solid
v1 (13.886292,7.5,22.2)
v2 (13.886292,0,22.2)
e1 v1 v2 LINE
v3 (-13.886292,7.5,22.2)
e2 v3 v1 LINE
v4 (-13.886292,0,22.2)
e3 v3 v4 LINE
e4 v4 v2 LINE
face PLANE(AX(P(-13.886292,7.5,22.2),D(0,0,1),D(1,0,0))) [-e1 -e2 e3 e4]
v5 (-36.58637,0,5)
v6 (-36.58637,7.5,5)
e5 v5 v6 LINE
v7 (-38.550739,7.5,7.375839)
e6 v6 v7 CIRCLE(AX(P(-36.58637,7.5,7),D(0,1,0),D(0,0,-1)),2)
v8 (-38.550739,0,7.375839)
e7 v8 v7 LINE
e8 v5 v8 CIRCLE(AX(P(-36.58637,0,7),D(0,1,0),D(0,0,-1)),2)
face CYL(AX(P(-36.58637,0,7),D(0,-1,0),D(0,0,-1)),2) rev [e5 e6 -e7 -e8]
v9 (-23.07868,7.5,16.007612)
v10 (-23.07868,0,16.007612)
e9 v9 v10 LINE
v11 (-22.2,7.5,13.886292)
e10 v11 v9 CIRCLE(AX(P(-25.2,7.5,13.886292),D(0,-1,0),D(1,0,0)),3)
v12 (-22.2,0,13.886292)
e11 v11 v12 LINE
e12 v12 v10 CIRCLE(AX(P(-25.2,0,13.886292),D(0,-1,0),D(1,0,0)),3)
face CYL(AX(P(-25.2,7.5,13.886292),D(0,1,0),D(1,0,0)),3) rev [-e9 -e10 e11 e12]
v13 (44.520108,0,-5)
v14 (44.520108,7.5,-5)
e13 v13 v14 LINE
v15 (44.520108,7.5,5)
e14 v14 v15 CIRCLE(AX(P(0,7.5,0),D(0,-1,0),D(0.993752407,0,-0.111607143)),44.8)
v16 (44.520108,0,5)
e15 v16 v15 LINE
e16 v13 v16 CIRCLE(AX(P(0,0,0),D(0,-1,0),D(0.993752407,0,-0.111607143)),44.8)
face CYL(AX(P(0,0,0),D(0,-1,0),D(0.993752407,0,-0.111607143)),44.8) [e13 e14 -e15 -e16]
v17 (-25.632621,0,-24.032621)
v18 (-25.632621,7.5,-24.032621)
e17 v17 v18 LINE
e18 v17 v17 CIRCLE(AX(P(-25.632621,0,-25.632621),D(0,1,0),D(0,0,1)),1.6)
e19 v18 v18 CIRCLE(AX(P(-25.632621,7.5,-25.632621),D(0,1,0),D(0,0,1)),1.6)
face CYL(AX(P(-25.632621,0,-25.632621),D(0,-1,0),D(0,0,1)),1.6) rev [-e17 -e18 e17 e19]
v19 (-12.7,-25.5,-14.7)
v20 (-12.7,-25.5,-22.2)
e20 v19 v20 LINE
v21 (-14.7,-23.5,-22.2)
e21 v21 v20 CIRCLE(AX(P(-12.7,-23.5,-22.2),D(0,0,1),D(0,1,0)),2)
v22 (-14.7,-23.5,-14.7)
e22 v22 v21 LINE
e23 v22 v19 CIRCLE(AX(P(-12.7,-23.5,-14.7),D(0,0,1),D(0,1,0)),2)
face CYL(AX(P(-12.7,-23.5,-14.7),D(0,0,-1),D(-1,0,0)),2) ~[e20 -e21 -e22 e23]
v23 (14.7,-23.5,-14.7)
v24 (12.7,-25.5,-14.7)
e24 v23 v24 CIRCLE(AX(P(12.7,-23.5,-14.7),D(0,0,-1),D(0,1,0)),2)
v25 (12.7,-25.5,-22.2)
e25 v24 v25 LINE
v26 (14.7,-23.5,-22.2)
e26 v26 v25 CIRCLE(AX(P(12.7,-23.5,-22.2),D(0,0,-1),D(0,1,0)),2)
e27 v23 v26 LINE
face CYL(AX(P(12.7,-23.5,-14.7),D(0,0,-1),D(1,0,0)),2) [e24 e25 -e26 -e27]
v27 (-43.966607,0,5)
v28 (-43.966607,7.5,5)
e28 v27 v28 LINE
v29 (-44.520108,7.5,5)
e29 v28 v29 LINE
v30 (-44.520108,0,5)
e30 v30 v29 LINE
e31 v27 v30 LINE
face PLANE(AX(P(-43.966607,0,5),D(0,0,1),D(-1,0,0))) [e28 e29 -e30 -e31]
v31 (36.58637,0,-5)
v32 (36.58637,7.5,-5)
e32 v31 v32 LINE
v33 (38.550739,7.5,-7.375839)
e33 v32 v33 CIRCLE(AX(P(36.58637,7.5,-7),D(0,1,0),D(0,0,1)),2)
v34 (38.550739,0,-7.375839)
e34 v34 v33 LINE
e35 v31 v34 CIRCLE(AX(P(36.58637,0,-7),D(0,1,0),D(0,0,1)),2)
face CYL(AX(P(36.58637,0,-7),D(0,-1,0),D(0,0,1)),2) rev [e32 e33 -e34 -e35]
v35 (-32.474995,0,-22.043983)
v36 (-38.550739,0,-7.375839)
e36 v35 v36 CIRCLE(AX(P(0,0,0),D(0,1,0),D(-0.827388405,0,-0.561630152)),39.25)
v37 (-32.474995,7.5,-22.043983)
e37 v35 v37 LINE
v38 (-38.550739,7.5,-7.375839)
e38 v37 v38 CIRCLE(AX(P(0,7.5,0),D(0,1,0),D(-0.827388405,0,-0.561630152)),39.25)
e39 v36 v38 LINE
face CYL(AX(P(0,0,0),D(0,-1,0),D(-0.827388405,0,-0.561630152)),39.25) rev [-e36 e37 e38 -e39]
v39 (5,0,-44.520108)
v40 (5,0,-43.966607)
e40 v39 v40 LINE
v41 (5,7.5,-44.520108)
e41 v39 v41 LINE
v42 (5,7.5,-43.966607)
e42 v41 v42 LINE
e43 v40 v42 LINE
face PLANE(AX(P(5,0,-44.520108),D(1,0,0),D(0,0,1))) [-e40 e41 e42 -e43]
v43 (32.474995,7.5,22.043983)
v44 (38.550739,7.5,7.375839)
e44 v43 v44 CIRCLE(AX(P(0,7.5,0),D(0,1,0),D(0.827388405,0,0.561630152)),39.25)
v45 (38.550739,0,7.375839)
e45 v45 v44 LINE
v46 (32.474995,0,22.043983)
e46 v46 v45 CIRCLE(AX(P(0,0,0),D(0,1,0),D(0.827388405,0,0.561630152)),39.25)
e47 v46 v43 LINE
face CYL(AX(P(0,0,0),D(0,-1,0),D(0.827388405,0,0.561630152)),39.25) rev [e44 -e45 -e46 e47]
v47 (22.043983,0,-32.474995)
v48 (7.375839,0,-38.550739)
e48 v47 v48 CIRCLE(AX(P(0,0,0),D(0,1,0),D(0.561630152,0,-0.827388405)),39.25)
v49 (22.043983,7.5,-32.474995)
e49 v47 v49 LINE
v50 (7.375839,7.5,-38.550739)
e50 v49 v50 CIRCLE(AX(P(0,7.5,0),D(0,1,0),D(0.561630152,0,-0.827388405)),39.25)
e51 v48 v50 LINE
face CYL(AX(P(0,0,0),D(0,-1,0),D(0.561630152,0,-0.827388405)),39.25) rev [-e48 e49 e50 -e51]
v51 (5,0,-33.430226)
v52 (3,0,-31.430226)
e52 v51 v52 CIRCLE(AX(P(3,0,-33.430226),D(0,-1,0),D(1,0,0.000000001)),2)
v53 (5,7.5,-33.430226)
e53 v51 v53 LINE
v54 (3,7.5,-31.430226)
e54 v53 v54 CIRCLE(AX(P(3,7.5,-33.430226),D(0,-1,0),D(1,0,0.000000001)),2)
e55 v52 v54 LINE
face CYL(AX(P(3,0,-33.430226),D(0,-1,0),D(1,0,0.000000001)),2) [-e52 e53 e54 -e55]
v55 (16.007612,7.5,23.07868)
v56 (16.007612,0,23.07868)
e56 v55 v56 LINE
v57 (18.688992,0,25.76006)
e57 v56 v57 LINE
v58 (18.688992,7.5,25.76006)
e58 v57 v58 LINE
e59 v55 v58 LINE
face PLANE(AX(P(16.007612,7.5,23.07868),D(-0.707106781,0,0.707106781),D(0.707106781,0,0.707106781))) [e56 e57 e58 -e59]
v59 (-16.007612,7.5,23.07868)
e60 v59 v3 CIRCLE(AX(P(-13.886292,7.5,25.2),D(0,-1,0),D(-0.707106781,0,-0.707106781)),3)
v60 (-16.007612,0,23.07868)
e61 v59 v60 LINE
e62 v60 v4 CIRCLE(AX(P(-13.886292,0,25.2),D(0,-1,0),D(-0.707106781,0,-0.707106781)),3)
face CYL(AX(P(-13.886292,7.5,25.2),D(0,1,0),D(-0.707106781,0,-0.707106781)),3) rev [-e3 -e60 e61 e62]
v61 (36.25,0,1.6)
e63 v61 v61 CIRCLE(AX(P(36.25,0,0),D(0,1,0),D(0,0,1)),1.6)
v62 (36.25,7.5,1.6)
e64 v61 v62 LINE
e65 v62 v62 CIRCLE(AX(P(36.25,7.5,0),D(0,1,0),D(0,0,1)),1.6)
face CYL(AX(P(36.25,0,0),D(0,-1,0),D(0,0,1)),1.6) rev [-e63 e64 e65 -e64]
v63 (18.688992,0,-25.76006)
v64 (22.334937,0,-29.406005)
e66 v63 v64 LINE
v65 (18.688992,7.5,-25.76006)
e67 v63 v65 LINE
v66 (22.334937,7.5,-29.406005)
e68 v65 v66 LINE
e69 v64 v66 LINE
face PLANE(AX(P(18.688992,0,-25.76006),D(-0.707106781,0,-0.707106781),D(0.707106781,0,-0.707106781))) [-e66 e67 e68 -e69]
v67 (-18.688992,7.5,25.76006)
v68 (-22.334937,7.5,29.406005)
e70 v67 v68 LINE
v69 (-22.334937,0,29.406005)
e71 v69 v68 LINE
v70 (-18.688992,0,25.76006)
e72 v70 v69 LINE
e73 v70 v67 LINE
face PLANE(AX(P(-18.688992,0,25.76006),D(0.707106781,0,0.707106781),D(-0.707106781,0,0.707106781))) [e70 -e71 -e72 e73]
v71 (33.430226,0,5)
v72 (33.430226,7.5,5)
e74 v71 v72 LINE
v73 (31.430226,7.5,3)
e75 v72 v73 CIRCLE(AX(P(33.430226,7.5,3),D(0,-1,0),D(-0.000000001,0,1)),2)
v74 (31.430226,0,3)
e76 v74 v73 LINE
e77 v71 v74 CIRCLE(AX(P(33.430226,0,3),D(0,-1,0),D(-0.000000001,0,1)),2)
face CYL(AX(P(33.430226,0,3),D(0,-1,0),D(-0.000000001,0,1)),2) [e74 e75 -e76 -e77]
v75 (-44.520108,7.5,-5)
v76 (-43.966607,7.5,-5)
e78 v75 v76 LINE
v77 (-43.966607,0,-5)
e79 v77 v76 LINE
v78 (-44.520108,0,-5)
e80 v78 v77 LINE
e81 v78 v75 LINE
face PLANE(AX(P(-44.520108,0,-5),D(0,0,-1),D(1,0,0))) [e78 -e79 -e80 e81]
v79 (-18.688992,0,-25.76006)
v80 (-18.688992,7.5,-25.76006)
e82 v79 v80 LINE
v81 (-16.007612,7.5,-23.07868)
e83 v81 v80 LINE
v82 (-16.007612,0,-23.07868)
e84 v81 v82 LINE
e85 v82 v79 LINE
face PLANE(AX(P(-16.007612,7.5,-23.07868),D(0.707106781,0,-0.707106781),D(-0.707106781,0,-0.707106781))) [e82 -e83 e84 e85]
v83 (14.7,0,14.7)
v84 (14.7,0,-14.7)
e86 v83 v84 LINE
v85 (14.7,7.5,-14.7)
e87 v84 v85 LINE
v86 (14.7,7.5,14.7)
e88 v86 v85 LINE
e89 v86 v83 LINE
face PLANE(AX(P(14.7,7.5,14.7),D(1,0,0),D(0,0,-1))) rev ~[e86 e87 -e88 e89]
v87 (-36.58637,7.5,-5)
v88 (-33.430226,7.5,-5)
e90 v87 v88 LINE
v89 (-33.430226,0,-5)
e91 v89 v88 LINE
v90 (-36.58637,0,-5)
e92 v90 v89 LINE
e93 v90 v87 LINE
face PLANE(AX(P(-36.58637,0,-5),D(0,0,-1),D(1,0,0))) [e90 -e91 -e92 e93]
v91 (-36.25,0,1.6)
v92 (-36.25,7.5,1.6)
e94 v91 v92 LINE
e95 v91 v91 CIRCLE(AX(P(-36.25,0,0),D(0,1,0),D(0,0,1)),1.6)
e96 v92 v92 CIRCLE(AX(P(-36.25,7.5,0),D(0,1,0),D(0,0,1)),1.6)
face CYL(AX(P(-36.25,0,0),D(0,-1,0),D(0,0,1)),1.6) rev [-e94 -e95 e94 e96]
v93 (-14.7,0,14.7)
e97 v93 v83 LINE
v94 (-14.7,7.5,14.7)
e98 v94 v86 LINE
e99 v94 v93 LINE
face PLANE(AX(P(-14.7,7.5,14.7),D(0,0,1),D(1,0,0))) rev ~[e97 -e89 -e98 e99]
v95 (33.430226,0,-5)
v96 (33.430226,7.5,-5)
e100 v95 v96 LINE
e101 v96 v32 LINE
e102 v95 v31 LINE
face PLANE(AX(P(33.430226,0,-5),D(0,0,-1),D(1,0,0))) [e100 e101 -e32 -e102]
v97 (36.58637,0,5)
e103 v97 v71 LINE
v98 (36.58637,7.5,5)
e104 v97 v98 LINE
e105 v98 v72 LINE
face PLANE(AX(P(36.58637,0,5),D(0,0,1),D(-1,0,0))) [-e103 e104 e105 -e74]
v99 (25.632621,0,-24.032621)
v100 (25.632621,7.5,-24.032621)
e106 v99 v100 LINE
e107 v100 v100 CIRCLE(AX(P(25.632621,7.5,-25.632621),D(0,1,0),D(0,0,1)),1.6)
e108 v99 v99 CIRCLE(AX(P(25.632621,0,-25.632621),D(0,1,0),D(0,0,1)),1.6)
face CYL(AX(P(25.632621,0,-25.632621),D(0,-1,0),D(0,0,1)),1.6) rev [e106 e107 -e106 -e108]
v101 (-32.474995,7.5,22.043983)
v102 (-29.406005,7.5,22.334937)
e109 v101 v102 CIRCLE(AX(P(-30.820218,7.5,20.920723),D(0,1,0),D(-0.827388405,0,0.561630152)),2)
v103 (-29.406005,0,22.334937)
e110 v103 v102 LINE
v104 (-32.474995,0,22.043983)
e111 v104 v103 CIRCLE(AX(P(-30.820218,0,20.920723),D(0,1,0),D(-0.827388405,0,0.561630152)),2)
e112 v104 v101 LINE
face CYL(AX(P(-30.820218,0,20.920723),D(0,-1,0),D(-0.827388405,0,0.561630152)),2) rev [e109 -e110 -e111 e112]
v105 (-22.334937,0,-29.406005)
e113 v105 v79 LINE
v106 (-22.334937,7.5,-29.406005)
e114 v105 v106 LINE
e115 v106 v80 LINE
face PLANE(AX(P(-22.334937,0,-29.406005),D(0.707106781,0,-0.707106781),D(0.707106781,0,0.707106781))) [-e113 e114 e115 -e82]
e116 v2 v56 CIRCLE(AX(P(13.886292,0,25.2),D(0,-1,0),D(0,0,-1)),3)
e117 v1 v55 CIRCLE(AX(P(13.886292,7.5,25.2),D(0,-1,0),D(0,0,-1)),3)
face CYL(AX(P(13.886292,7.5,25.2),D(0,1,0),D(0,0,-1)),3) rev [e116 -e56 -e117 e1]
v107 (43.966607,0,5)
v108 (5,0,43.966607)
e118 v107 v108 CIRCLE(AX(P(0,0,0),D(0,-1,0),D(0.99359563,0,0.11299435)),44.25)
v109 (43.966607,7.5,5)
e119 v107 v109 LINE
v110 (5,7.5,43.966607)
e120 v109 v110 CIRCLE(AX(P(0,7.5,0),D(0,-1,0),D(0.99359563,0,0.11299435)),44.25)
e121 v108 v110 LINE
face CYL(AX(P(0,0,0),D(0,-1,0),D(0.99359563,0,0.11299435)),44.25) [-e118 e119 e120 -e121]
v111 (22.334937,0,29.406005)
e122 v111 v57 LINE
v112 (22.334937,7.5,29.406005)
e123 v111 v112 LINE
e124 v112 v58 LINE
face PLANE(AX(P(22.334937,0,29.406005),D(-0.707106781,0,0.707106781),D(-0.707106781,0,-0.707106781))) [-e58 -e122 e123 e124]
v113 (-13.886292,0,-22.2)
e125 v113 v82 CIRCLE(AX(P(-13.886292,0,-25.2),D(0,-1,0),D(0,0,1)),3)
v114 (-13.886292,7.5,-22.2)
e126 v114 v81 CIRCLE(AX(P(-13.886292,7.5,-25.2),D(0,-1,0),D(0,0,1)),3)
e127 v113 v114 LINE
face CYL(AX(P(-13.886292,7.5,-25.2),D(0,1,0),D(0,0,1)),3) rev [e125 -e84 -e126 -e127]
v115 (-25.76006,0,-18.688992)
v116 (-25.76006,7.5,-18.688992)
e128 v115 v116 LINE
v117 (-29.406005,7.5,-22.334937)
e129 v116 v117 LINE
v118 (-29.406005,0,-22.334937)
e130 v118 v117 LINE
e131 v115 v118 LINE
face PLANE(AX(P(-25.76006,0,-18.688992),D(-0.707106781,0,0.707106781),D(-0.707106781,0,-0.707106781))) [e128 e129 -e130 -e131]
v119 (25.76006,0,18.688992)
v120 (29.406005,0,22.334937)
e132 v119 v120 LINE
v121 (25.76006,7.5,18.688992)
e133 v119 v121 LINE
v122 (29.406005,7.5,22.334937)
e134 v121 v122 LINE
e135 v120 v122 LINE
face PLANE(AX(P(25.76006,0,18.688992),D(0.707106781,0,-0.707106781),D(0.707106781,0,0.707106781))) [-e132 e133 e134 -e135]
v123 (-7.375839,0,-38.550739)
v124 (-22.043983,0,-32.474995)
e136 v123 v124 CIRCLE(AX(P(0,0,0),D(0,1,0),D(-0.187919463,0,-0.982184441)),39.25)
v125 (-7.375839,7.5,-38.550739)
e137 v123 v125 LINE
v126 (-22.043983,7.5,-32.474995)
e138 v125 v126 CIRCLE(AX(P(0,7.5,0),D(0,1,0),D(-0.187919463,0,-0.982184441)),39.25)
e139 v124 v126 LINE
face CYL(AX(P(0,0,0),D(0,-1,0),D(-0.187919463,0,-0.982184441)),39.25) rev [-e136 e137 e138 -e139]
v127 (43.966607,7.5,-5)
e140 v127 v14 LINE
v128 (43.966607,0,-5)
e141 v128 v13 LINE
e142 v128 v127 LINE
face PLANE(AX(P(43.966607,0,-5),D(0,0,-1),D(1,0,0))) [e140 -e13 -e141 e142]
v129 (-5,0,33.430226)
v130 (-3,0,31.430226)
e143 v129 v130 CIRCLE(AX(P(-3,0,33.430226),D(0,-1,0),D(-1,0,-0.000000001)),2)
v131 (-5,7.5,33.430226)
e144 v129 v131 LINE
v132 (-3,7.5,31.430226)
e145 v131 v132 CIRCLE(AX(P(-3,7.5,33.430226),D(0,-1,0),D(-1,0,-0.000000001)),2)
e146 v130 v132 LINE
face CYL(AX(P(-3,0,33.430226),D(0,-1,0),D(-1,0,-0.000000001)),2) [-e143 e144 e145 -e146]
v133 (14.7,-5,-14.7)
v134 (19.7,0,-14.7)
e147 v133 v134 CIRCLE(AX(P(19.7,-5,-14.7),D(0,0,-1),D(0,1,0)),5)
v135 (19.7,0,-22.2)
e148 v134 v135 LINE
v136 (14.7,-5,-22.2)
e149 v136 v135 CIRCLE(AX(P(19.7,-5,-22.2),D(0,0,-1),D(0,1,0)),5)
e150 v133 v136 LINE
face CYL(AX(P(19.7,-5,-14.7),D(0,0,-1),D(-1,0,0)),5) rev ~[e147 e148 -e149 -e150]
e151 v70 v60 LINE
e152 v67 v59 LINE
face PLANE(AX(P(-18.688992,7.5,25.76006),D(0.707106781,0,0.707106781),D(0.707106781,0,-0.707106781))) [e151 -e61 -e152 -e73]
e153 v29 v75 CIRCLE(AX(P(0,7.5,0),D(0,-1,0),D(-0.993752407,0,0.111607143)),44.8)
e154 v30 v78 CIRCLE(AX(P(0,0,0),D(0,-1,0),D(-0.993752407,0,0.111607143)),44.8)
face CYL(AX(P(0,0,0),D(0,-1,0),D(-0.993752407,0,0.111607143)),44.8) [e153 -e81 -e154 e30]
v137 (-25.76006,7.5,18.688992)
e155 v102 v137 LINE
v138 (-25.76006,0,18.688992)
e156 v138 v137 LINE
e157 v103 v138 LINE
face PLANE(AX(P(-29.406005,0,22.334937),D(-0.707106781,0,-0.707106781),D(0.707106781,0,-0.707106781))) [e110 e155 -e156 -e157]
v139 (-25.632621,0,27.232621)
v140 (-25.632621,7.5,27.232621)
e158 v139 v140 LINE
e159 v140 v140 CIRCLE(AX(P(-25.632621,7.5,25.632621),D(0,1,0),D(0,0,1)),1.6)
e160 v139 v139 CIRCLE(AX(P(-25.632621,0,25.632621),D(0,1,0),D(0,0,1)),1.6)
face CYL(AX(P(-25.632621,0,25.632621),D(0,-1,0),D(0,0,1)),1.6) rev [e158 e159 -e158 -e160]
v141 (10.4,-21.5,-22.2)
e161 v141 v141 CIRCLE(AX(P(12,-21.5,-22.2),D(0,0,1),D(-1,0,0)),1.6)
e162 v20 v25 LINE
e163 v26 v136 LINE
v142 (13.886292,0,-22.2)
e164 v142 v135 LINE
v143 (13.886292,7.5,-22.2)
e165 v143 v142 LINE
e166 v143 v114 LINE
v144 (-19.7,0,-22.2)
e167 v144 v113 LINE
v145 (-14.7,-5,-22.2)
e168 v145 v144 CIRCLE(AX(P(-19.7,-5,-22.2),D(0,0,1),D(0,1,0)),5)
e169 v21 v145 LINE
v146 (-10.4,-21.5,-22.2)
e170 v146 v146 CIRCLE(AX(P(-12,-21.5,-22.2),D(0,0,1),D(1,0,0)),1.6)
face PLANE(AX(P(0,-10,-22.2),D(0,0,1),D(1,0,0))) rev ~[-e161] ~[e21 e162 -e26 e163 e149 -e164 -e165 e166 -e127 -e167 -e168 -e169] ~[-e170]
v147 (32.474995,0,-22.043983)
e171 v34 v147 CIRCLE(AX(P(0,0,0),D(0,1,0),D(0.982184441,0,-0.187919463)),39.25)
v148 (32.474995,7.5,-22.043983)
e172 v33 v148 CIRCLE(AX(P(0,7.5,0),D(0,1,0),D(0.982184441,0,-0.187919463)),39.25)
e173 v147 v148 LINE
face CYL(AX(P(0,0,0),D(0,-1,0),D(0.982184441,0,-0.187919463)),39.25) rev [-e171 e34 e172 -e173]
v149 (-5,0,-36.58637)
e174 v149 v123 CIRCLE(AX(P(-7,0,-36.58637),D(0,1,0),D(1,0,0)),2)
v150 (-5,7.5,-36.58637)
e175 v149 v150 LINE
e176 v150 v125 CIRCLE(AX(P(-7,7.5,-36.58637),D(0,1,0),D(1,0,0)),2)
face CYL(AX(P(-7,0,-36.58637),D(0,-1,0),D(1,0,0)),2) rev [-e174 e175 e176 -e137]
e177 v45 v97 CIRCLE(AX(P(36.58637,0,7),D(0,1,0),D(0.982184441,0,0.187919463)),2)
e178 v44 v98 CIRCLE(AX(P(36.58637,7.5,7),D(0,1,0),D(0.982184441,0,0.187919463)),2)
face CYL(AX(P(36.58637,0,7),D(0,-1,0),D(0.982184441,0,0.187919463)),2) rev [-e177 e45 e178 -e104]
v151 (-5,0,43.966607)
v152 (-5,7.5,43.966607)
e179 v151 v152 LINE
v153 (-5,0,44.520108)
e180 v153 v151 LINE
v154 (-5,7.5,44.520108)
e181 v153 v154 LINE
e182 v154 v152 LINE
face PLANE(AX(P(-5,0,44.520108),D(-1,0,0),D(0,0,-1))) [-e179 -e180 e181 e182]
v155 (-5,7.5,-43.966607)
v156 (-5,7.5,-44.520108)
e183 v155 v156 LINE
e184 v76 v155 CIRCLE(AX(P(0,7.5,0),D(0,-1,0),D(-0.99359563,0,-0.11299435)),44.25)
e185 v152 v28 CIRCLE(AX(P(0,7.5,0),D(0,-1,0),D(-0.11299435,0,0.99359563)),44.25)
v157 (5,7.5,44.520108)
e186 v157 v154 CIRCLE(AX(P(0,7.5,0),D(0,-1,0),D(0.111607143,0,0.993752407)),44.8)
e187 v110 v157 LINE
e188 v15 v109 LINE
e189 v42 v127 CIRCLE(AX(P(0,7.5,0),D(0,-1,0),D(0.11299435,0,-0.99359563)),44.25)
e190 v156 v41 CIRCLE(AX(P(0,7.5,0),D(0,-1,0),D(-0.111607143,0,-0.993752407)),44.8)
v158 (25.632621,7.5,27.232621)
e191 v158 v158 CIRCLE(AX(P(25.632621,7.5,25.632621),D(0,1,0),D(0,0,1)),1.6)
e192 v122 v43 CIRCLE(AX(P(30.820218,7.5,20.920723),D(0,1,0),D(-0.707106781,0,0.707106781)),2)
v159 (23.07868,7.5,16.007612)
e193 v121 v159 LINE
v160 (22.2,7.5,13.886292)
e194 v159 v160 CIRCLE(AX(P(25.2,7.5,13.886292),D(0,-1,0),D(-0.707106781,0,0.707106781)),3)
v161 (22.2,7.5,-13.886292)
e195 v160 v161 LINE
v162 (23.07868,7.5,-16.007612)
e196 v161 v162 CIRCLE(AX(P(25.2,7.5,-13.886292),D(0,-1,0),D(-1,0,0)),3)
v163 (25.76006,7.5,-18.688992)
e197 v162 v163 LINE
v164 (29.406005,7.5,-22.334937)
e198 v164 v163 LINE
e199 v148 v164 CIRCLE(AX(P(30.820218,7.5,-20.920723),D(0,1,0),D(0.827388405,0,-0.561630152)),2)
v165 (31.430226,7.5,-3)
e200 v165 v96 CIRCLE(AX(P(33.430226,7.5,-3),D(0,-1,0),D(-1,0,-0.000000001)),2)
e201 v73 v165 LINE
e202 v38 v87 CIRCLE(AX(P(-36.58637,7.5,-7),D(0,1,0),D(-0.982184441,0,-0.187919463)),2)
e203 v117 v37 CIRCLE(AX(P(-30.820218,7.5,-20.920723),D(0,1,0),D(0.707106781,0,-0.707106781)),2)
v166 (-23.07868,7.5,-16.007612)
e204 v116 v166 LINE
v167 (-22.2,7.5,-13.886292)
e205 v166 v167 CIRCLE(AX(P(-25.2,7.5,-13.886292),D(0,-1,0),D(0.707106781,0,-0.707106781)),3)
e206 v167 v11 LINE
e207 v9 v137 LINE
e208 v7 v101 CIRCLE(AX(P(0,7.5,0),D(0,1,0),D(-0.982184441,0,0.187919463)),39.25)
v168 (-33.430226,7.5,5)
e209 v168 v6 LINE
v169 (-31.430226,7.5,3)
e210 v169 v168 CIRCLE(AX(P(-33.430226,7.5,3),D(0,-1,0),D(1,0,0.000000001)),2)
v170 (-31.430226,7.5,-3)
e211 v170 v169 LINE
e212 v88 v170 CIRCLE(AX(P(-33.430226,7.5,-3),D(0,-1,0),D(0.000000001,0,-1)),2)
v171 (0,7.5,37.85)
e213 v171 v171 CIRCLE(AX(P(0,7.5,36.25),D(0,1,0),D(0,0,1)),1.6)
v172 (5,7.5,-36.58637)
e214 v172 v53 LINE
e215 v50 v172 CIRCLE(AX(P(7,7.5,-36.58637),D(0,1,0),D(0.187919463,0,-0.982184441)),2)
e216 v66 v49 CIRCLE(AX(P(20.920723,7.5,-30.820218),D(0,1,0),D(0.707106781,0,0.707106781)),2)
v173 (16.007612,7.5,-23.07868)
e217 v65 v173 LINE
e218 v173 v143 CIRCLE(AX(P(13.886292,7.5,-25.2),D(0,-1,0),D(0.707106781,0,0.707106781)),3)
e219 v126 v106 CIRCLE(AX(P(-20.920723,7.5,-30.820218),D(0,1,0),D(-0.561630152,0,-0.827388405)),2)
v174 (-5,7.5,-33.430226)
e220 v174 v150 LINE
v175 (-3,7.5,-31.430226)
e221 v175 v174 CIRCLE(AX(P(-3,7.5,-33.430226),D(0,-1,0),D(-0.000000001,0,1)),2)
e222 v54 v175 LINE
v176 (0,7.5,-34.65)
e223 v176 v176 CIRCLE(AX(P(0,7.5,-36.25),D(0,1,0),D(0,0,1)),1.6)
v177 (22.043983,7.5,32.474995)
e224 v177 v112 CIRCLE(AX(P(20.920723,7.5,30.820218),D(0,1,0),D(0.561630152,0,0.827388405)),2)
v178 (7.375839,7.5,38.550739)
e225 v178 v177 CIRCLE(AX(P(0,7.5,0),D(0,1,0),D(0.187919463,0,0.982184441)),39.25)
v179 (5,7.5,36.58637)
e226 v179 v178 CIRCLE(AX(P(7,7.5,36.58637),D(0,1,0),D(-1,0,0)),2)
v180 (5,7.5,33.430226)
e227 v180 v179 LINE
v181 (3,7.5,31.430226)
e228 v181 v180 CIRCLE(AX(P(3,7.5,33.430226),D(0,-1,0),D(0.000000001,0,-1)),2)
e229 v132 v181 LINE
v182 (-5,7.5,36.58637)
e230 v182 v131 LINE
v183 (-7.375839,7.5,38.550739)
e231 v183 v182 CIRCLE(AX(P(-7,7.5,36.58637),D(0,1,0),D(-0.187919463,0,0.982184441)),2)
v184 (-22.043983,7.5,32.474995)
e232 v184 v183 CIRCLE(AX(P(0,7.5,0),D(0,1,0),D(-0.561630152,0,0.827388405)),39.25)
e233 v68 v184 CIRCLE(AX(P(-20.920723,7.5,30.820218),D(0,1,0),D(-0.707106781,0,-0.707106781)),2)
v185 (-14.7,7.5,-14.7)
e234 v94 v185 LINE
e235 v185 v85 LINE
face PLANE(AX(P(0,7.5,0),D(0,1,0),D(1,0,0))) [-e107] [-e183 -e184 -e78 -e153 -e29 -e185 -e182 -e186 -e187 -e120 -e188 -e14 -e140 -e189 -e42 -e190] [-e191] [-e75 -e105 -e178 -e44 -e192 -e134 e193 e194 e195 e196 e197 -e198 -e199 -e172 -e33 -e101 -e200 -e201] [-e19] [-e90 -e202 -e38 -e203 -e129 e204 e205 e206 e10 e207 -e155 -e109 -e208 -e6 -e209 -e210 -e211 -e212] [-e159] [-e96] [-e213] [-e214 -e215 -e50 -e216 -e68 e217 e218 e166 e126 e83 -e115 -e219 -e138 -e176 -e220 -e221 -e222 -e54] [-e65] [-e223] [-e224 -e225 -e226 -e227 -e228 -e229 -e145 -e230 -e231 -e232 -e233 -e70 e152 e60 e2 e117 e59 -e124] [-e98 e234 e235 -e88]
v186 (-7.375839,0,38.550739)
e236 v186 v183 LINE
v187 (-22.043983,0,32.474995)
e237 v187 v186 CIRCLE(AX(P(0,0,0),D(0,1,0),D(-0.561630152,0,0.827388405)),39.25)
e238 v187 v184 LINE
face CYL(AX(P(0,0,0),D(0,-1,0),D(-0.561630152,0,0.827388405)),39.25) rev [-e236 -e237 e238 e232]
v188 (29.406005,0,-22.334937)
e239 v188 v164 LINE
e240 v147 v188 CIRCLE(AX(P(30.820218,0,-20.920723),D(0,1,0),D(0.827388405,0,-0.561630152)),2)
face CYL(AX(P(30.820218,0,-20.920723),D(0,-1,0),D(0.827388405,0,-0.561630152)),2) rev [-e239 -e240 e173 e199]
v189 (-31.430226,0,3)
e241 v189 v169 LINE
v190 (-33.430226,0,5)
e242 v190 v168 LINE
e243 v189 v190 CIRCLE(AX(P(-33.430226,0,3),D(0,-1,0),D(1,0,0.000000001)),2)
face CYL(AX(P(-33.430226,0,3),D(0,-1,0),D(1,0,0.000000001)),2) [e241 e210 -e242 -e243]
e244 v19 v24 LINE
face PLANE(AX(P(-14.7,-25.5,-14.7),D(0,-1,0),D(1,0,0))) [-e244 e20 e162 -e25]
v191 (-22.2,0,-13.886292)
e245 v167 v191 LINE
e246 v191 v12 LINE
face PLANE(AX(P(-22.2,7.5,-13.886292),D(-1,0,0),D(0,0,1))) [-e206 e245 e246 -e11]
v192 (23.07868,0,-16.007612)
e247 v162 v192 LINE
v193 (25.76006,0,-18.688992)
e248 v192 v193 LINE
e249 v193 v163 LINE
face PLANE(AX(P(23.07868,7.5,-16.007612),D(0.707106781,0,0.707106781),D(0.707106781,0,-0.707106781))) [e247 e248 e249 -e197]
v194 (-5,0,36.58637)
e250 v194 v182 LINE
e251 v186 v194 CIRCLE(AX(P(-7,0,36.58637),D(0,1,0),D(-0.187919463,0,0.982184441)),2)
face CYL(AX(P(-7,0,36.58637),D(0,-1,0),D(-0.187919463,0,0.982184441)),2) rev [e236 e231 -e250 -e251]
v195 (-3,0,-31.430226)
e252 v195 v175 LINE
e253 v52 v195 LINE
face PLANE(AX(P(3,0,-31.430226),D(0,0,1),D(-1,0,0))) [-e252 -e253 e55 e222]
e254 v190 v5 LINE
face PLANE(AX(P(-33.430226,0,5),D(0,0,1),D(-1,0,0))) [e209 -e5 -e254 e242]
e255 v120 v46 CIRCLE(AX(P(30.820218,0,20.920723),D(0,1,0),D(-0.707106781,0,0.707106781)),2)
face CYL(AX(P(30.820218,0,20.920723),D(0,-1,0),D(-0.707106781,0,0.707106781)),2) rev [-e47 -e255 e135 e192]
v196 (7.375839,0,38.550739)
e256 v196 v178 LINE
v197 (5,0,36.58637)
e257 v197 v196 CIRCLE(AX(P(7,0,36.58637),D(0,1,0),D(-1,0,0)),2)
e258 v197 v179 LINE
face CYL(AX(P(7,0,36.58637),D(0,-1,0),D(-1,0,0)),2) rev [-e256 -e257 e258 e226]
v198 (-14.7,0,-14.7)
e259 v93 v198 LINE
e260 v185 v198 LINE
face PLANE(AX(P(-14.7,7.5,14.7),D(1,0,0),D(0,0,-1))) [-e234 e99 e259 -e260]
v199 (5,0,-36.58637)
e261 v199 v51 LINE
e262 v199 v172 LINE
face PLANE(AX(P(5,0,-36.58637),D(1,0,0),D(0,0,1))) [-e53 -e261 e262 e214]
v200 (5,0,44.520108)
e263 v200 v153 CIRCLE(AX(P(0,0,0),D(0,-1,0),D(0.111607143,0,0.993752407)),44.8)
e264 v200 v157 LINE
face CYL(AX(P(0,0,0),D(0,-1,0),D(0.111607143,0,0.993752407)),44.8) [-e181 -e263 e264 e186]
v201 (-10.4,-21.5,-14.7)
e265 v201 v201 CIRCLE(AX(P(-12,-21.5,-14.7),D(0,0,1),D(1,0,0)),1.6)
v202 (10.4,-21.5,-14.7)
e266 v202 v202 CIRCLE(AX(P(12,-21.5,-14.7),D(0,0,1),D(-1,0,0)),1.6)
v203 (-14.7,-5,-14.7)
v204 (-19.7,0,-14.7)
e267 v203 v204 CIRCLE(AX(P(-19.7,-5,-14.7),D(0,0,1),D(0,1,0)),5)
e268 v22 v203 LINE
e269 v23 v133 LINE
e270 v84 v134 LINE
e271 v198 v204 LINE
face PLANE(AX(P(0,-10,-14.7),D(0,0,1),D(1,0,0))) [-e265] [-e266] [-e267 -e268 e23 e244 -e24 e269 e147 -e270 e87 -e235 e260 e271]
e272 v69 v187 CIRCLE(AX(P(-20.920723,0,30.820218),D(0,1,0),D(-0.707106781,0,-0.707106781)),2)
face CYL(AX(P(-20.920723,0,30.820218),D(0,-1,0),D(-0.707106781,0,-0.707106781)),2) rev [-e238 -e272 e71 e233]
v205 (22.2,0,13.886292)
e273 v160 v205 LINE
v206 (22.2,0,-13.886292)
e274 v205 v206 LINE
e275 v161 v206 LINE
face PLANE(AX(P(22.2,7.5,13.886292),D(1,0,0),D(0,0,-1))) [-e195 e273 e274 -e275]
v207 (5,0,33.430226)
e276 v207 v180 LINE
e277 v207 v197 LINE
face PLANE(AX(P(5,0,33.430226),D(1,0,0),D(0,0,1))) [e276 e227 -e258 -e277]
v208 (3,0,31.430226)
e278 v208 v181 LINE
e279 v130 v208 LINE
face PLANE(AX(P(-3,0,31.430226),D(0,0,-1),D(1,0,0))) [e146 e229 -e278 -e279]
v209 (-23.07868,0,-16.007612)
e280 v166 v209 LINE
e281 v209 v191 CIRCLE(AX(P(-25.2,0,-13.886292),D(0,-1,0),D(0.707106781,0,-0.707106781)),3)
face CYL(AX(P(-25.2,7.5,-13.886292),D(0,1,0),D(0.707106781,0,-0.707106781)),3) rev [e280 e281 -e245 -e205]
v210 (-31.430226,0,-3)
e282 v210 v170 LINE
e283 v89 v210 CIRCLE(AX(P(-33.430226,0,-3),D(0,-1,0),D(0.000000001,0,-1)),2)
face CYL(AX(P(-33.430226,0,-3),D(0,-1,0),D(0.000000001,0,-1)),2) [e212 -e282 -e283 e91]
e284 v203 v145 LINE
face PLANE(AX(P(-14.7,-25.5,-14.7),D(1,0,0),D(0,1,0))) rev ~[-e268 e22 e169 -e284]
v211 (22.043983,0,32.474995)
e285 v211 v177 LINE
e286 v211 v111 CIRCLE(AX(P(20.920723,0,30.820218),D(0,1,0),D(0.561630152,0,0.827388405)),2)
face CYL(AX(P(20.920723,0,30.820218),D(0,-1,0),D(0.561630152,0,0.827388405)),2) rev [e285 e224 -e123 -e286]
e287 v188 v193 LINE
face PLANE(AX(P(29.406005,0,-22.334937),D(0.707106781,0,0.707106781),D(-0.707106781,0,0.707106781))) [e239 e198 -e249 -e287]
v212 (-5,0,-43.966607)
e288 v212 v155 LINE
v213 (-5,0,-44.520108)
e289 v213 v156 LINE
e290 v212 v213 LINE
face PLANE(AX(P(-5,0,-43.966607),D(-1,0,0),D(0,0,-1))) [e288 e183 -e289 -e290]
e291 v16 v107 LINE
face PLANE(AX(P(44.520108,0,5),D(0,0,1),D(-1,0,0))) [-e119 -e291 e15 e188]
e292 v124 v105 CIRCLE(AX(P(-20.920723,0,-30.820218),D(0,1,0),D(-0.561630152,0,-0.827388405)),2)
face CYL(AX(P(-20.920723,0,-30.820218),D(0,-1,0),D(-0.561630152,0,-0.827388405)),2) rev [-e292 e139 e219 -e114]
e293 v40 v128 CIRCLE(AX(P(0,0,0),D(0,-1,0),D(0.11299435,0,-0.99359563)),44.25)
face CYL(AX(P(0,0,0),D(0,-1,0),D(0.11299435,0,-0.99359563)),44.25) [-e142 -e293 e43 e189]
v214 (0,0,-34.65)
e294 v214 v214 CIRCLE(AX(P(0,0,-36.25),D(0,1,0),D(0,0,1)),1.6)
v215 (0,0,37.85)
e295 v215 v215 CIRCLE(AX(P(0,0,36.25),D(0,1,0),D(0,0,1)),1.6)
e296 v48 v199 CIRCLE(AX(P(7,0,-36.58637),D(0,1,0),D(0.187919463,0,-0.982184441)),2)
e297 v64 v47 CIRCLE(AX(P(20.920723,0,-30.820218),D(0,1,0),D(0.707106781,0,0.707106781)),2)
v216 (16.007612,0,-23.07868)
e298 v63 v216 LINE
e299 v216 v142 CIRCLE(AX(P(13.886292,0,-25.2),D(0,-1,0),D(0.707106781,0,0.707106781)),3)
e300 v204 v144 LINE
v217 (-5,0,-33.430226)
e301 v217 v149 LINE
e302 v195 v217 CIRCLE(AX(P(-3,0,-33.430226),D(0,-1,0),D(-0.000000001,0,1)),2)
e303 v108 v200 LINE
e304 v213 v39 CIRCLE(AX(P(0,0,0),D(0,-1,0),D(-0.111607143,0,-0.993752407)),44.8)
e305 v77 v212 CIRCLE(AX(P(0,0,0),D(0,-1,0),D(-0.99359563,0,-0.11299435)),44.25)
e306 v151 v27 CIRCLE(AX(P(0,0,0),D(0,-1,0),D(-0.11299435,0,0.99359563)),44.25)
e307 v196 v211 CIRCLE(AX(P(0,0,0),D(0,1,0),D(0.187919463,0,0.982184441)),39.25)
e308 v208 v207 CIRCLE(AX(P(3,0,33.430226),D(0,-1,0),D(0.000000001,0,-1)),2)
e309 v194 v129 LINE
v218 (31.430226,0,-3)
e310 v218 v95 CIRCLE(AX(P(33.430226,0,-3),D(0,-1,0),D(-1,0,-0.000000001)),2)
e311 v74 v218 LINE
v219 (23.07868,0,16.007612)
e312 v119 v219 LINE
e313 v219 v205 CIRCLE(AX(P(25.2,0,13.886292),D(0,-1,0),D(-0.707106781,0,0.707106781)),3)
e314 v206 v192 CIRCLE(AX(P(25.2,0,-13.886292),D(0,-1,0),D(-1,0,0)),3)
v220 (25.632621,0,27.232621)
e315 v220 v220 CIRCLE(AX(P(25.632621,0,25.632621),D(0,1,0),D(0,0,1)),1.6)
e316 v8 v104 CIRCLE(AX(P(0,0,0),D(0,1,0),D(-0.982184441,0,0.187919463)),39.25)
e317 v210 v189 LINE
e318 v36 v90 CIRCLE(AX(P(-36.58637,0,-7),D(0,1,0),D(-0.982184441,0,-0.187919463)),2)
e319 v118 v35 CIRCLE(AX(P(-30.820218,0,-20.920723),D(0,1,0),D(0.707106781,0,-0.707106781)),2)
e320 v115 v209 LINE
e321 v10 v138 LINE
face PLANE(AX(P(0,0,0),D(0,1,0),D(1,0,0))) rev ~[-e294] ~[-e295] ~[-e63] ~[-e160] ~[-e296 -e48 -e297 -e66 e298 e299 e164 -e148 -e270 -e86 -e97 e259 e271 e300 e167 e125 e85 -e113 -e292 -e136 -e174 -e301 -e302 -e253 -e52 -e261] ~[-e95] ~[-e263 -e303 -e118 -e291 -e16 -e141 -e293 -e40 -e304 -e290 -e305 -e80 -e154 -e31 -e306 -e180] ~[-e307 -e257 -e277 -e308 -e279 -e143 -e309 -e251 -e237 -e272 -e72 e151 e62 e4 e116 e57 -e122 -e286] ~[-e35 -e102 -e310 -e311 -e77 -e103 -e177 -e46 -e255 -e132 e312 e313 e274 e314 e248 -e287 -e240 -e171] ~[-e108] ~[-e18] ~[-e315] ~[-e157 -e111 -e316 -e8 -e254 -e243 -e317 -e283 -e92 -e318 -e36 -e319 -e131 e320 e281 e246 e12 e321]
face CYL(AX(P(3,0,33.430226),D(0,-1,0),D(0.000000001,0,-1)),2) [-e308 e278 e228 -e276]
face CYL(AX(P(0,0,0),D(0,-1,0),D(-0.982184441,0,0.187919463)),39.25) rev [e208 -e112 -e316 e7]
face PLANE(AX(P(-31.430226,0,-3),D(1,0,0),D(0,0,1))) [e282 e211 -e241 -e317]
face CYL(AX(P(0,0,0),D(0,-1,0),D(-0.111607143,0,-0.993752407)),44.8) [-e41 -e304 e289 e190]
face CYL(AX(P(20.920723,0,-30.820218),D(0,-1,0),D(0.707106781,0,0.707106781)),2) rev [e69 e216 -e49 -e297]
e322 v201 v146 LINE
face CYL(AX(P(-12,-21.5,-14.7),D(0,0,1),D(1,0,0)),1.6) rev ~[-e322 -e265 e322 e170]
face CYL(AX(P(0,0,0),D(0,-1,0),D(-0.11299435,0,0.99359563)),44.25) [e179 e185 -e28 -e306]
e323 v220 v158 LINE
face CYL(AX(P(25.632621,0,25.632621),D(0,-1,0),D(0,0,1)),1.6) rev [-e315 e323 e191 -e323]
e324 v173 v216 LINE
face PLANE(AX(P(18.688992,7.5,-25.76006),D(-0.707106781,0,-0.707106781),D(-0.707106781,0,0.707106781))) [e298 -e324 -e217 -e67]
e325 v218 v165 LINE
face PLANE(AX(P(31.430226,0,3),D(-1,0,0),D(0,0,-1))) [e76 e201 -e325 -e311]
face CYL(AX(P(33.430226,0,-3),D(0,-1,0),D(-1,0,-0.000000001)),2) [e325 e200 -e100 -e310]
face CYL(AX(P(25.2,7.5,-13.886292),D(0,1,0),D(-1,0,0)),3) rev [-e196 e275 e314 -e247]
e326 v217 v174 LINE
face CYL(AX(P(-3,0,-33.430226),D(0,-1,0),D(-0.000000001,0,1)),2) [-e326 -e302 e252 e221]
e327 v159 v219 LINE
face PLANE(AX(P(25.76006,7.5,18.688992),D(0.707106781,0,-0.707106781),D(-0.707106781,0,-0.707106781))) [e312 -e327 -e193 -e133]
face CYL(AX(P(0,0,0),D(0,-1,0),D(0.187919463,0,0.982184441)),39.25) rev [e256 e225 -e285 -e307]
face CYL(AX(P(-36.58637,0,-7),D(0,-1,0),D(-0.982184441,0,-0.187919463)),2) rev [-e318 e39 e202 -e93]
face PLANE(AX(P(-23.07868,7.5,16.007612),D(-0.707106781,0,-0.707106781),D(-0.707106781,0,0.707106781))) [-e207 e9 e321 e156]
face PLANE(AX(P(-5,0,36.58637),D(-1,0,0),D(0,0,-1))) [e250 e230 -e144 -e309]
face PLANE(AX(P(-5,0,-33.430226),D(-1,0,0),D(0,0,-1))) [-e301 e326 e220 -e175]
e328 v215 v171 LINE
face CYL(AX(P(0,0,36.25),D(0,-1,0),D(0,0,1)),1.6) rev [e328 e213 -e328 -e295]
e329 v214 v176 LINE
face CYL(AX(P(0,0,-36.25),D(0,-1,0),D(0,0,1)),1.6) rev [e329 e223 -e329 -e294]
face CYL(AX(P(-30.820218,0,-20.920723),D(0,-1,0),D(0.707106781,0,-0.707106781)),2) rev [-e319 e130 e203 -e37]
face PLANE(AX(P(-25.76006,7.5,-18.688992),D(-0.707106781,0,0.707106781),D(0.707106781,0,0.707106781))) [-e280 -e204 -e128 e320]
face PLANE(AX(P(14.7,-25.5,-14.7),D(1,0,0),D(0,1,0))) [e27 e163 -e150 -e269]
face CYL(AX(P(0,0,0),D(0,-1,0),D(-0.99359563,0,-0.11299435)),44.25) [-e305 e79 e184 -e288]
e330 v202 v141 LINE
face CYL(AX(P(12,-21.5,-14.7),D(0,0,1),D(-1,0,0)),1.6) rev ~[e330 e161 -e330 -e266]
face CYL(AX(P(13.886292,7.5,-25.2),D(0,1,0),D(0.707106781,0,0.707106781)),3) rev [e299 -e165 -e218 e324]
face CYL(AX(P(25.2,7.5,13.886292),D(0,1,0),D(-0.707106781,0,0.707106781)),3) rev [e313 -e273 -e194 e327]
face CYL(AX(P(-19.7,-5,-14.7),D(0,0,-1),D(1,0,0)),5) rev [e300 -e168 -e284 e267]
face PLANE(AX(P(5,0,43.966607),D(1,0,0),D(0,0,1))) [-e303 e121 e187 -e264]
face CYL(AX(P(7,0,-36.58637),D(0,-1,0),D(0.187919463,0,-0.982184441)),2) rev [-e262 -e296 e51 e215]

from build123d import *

# Parameters (mm, degrees)
SKETCH1_R           = 1.6
BOSS_EXTRUDE1_DEPTH = 7.5
SKETCH2_W           = 29.4
SKETCH2_H           = 29.4
BOSS_EXTRUDE2_DEPTH = 7.5
SKETCH3_W           = 29.4
SKETCH3_H           = 31
SKETCH3_R           = 1.6
BOSS_EXTRUDE3_DEPTH = 7.5
FILLET1_R           = 5
FILLET2_R           = 2


with BuildPart() as part:
    # Sketch1 → Boss-Extrude1 (new body)
    with BuildSketch(Plane(origin=(0, 0, 0), x_dir=(1, 0, 0), z_dir=(0, 1, 0))):
        with BuildLine():
            Line((-5, 43.966606646), (-5, 44.520107817))
            ThreePointArc((-5, 44.520107817), (0, 44.8), (5, 44.520107817))
            Line((5, 44.520107817), (5, 43.966606646))
            ThreePointArc((5, 43.966606646), (31.289475068, 31.289475068), (43.966606646, 5))
            Line((43.966606646, 5), (44.520107817, 5))
            ThreePointArc((44.520107817, 5), (44.8, 0), (44.520107817, -5))
            Line((44.520107817, -5), (43.966606646, -5))
            ThreePointArc((43.966606646, -5), (31.289475068, -31.289475068), (5, -43.966606646))
            Line((5, -43.966606646), (5, -44.520107817))
            ThreePointArc((5, -44.520107817), (0, -44.8), (-5, -44.520107817))
            Line((-5, -44.520107817), (-5, -43.966606646))
            ThreePointArc((-5, -43.966606646), (-31.289475068, -31.289475068), (-43.966606646, -5))
            Line((-43.966606646, -5), (-44.520107817, -5))
            ThreePointArc((-44.520107817, -5), (-44.8, 0), (-44.520107817, 5))
            Line((-44.520107817, 5), (-43.966606646, 5))
            ThreePointArc((-43.966606646, 5), (-31.289475068, 31.289475068), (-5, 43.966606646))
        make_face()
        with Locations(Location((36.25, 0, 0), (0, 0, 270))):
            Circle(SKETCH1_R, mode=Mode.SUBTRACT)
        with Locations(Location((25.632620818, -25.632620818, 0), (0, 0, 270))):
            Circle(SKETCH1_R, mode=Mode.SUBTRACT)
        with Locations(Location((0, -36.25, 0), (0, 0, 270))):
            Circle(SKETCH1_R, mode=Mode.SUBTRACT)
        with Locations(Location((-25.632620818, -25.632620818, 0), (0, 0, 270))):
            Circle(SKETCH1_R, mode=Mode.SUBTRACT)
        with Locations(Location((-36.25, 0, 0), (0, 0, 270))):
            Circle(SKETCH1_R, mode=Mode.SUBTRACT)
        with Locations(Location((-25.632620818, 25.632620818, 0), (0, 0, 270))):
            Circle(SKETCH1_R, mode=Mode.SUBTRACT)
        with Locations(Location((0, 36.25, 0), (0, 0, 270))):
            Circle(SKETCH1_R, mode=Mode.SUBTRACT)
        with Locations(Location((25.632620818, 25.632620818, 0), (0, 0, 270))):
            Circle(SKETCH1_R, mode=Mode.SUBTRACT)
        with BuildLine():
            Line((33.430226046, 5), (36.586370413, 5))
            ThreePointArc((36.586370413, 5), (38.127746073, 5.725574218), (38.550739294, 7.375838926))
            ThreePointArc((38.550739294, 7.375838926), (36.262271651, 15.02032472), (32.474994896, 22.043983453))
            ThreePointArc((32.474994896, 22.043983453), (31.008980156, 22.911795444), (29.406004524, 22.334936712))
            Line((29.406004524, 22.334936712), (25.760059877, 18.688992065))
            Line((25.760059877, 18.688992065), (18.688992065, 25.760059877))
            Line((18.688992065, 25.760059877), (22.334936712, 29.406004524))
            ThreePointArc((22.334936712, 29.406004524), (22.911795444, 31.008980156), (22.043983453, 32.474994896))
            ThreePointArc((22.043983453, 32.474994896), (15.02032472, 36.262271651), (7.375838926, 38.550739294))
            ThreePointArc((7.375838926, 38.550739294), (5.725574218, 38.127746073), (5, 36.586370413))
            Line((5, 36.586370413), (5, 33.430226046))
            ThreePointArc((5, 33.430226046), (4.414213562, 32.016012484), (3, 31.430226046))
            Line((3, 31.430226046), (-3, 31.430226046))
            ThreePointArc((-3, 31.430226046), (-4.414213562, 32.016012484), (-5, 33.430226046))
            Line((-5, 33.430226046), (-5, 36.586370413))
            ThreePointArc((-5, 36.586370413), (-5.725574218, 38.127746073), (-7.375838926, 38.550739294))
            ThreePointArc((-7.375838926, 38.550739294), (-15.02032472, 36.262271651), (-22.043983453, 32.474994896))
            ThreePointArc((-22.043983453, 32.474994896), (-22.911795444, 31.008980156), (-22.334936712, 29.406004524))
            Line((-22.334936712, 29.406004524), (-18.688992065, 25.760059877))
            Line((-18.688992065, 25.760059877), (-25.760059877, 18.688992065))
            Line((-25.760059877, 18.688992065), (-29.406004524, 22.334936712))
            ThreePointArc((-29.406004524, 22.334936712), (-31.008980156, 22.911795444), (-32.474994896, 22.043983453))
            ThreePointArc((-32.474994896, 22.043983453), (-36.262271651, 15.02032472), (-38.550739294, 7.375838926))
            ThreePointArc((-38.550739294, 7.375838926), (-38.127746073, 5.725574218), (-36.586370413, 5))
            Line((-36.586370413, 5), (-33.430226046, 5))
            ThreePointArc((-33.430226046, 5), (-32.016012484, 4.414213562), (-31.430226046, 3))
            Line((-31.430226046, 3), (-31.430226046, -3))
            ThreePointArc((-31.430226046, -3), (-32.016012484, -4.414213562), (-33.430226046, -5))
            Line((-33.430226046, -5), (-36.586370413, -5))
            ThreePointArc((-36.586370413, -5), (-38.127746073, -5.725574218), (-38.550739294, -7.375838926))
            ThreePointArc((-38.550739294, -7.375838926), (-36.262271651, -15.02032472), (-32.474994896, -22.043983453))
            ThreePointArc((-32.474994896, -22.043983453), (-31.008980156, -22.911795444), (-29.406004524, -22.334936712))
            Line((-29.406004524, -22.334936712), (-25.760059877, -18.688992065))
            Line((-25.760059877, -18.688992065), (-18.688992065, -25.760059877))
            Line((-18.688992065, -25.760059877), (-22.334936712, -29.406004524))
            ThreePointArc((-22.334936712, -29.406004524), (-22.911795444, -31.008980156), (-22.043983453, -32.474994896))
            ThreePointArc((-22.043983453, -32.474994896), (-15.02032472, -36.262271651), (-7.375838926, -38.550739294))
            ThreePointArc((-7.375838926, -38.550739294), (-5.725574218, -38.127746073), (-5, -36.586370413))
            Line((-5, -36.586370413), (-5, -33.430226046))
            ThreePointArc((-5, -33.430226046), (-4.414213562, -32.016012484), (-3, -31.430226046))
            Line((-3, -31.430226046), (3, -31.430226046))
            ThreePointArc((3, -31.430226046), (4.414213562, -32.016012484), (5, -33.430226046))
            Line((5, -33.430226046), (5, -36.586370413))
            ThreePointArc((5, -36.586370413), (5.725574218, -38.127746073), (7.375838926, -38.550739294))
            ThreePointArc((7.375838926, -38.550739294), (15.02032472, -36.262271651), (22.043983453, -32.474994896))
            ThreePointArc((22.043983453, -32.474994896), (22.911795444, -31.008980156), (22.334936712, -29.406004524))
            Line((22.334936712, -29.406004524), (18.688992065, -25.760059877))
            Line((18.688992065, -25.760059877), (25.760059877, -18.688992065))
            Line((25.760059877, -18.688992065), (29.406004524, -22.334936712))
            ThreePointArc((29.406004524, -22.334936712), (31.008980156, -22.911795444), (32.474994896, -22.043983453))
            ThreePointArc((32.474994896, -22.043983453), (36.262271651, -15.02032472), (38.550739294, -7.375838926))
            ThreePointArc((38.550739294, -7.375838926), (38.127746073, -5.725574218), (36.586370413, -5))
            Line((36.586370413, -5), (33.430226046, -5))
            ThreePointArc((33.430226046, -5), (32.016012484, -4.414213562), (31.430226046, -3))
            Line((31.430226046, -3), (31.430226046, 3))
            ThreePointArc((31.430226046, 3), (32.016012484, 4.414213562), (33.430226046, 5))
        make_face(mode=Mode.SUBTRACT)
    extrude(amount=BOSS_EXTRUDE1_DEPTH)

    # Sketch2 → Boss-Extrude2 (add)
    with BuildSketch(Plane(origin=(0, 7.5, 0), x_dir=(1, 0, 0), z_dir=(0, 1, 0))):
        with BuildLine():
            Line((13.886291501, 22.2), (-13.886291501, 22.2))
            ThreePointArc((-13.886291501, 22.2), (-15.034341798, 22.428361402), (-16.007611845, 23.078679656))
            Line((-16.007611845, 23.078679656), (-18.688992065, 25.760059877))
            Line((-18.688992065, 25.760059877), (-25.760059877, 18.688992065))
            Line((-25.760059877, 18.688992065), (-23.078679656, 16.007611845))
            ThreePointArc((-23.078679656, 16.007611845), (-22.428361402, 15.034341798), (-22.2, 13.886291501))
            Line((-22.2, 13.886291501), (-22.2, -13.886291501))
            ThreePointArc((-22.2, -13.886291501), (-22.428361402, -15.034341798), (-23.078679656, -16.007611845))
            Line((-23.078679656, -16.007611845), (-25.760059877, -18.688992065))
            Line((-25.760059877, -18.688992065), (-18.688992065, -25.760059877))
            Line((-18.688992065, -25.760059877), (-16.007611845, -23.078679656))
            ThreePointArc((-16.007611845, -23.078679656), (-15.034341798, -22.428361402), (-13.886291501, -22.2))
            Line((-13.886291501, -22.2), (13.886291501, -22.2))
            ThreePointArc((13.886291501, -22.2), (15.034341798, -22.428361402), (16.007611845, -23.078679656))
            Line((16.007611845, -23.078679656), (18.688992065, -25.760059877))
            Line((18.688992065, -25.760059877), (25.760059877, -18.688992065))
            Line((25.760059877, -18.688992065), (23.078679656, -16.007611845))
            ThreePointArc((23.078679656, -16.007611845), (22.428361402, -15.034341798), (22.2, -13.886291501))
            Line((22.2, -13.886291501), (22.2, 13.886291501))
            ThreePointArc((22.2, 13.886291501), (22.428361402, 15.034341798), (23.078679656, 16.007611845))
            Line((23.078679656, 16.007611845), (25.760059877, 18.688992065))
            Line((25.760059877, 18.688992065), (18.688992065, 25.760059877))
            Line((18.688992065, 25.760059877), (16.007611845, 23.078679656))
            ThreePointArc((16.007611845, 23.078679656), (15.034341798, 22.428361402), (13.886291501, 22.2))
        make_face()
        Rectangle(SKETCH2_W, SKETCH2_H, mode=Mode.SUBTRACT)
    extrude(amount=-BOSS_EXTRUDE2_DEPTH)

    # Sketch3 → Boss-Extrude3 (add)
    with BuildSketch(Plane.XY.offset(-14.7)):
        with Locations((0, -10)):
            Rectangle(SKETCH3_W, SKETCH3_H)
        with Locations((-12, -21.5)):
            Circle(SKETCH3_R, mode=Mode.SUBTRACT)
        with Locations(Location((12, -21.5, 0), (0, 0, 180))):
            Circle(SKETCH3_R, mode=Mode.SUBTRACT)
    extrude(amount=-BOSS_EXTRUDE3_DEPTH)

    # Fillet1
    fillet1_edges = [part.edges().sort_by_distance(p)[0] for p in [
        (-14.7, 0, -18.45),
        (14.7, 0, -18.45),
    ]]
    fillet(fillet1_edges, radius=FILLET1_R)

    # Fillet2
    fillet2_edges = [part.edges().sort_by_distance(p)[0] for p in [
        (-14.7, -25.5, -18.45),
        (14.7, -25.5, -18.45),
    ]]
    fillet(fillet2_edges, radius=FILLET2_R)


solid = part.part
